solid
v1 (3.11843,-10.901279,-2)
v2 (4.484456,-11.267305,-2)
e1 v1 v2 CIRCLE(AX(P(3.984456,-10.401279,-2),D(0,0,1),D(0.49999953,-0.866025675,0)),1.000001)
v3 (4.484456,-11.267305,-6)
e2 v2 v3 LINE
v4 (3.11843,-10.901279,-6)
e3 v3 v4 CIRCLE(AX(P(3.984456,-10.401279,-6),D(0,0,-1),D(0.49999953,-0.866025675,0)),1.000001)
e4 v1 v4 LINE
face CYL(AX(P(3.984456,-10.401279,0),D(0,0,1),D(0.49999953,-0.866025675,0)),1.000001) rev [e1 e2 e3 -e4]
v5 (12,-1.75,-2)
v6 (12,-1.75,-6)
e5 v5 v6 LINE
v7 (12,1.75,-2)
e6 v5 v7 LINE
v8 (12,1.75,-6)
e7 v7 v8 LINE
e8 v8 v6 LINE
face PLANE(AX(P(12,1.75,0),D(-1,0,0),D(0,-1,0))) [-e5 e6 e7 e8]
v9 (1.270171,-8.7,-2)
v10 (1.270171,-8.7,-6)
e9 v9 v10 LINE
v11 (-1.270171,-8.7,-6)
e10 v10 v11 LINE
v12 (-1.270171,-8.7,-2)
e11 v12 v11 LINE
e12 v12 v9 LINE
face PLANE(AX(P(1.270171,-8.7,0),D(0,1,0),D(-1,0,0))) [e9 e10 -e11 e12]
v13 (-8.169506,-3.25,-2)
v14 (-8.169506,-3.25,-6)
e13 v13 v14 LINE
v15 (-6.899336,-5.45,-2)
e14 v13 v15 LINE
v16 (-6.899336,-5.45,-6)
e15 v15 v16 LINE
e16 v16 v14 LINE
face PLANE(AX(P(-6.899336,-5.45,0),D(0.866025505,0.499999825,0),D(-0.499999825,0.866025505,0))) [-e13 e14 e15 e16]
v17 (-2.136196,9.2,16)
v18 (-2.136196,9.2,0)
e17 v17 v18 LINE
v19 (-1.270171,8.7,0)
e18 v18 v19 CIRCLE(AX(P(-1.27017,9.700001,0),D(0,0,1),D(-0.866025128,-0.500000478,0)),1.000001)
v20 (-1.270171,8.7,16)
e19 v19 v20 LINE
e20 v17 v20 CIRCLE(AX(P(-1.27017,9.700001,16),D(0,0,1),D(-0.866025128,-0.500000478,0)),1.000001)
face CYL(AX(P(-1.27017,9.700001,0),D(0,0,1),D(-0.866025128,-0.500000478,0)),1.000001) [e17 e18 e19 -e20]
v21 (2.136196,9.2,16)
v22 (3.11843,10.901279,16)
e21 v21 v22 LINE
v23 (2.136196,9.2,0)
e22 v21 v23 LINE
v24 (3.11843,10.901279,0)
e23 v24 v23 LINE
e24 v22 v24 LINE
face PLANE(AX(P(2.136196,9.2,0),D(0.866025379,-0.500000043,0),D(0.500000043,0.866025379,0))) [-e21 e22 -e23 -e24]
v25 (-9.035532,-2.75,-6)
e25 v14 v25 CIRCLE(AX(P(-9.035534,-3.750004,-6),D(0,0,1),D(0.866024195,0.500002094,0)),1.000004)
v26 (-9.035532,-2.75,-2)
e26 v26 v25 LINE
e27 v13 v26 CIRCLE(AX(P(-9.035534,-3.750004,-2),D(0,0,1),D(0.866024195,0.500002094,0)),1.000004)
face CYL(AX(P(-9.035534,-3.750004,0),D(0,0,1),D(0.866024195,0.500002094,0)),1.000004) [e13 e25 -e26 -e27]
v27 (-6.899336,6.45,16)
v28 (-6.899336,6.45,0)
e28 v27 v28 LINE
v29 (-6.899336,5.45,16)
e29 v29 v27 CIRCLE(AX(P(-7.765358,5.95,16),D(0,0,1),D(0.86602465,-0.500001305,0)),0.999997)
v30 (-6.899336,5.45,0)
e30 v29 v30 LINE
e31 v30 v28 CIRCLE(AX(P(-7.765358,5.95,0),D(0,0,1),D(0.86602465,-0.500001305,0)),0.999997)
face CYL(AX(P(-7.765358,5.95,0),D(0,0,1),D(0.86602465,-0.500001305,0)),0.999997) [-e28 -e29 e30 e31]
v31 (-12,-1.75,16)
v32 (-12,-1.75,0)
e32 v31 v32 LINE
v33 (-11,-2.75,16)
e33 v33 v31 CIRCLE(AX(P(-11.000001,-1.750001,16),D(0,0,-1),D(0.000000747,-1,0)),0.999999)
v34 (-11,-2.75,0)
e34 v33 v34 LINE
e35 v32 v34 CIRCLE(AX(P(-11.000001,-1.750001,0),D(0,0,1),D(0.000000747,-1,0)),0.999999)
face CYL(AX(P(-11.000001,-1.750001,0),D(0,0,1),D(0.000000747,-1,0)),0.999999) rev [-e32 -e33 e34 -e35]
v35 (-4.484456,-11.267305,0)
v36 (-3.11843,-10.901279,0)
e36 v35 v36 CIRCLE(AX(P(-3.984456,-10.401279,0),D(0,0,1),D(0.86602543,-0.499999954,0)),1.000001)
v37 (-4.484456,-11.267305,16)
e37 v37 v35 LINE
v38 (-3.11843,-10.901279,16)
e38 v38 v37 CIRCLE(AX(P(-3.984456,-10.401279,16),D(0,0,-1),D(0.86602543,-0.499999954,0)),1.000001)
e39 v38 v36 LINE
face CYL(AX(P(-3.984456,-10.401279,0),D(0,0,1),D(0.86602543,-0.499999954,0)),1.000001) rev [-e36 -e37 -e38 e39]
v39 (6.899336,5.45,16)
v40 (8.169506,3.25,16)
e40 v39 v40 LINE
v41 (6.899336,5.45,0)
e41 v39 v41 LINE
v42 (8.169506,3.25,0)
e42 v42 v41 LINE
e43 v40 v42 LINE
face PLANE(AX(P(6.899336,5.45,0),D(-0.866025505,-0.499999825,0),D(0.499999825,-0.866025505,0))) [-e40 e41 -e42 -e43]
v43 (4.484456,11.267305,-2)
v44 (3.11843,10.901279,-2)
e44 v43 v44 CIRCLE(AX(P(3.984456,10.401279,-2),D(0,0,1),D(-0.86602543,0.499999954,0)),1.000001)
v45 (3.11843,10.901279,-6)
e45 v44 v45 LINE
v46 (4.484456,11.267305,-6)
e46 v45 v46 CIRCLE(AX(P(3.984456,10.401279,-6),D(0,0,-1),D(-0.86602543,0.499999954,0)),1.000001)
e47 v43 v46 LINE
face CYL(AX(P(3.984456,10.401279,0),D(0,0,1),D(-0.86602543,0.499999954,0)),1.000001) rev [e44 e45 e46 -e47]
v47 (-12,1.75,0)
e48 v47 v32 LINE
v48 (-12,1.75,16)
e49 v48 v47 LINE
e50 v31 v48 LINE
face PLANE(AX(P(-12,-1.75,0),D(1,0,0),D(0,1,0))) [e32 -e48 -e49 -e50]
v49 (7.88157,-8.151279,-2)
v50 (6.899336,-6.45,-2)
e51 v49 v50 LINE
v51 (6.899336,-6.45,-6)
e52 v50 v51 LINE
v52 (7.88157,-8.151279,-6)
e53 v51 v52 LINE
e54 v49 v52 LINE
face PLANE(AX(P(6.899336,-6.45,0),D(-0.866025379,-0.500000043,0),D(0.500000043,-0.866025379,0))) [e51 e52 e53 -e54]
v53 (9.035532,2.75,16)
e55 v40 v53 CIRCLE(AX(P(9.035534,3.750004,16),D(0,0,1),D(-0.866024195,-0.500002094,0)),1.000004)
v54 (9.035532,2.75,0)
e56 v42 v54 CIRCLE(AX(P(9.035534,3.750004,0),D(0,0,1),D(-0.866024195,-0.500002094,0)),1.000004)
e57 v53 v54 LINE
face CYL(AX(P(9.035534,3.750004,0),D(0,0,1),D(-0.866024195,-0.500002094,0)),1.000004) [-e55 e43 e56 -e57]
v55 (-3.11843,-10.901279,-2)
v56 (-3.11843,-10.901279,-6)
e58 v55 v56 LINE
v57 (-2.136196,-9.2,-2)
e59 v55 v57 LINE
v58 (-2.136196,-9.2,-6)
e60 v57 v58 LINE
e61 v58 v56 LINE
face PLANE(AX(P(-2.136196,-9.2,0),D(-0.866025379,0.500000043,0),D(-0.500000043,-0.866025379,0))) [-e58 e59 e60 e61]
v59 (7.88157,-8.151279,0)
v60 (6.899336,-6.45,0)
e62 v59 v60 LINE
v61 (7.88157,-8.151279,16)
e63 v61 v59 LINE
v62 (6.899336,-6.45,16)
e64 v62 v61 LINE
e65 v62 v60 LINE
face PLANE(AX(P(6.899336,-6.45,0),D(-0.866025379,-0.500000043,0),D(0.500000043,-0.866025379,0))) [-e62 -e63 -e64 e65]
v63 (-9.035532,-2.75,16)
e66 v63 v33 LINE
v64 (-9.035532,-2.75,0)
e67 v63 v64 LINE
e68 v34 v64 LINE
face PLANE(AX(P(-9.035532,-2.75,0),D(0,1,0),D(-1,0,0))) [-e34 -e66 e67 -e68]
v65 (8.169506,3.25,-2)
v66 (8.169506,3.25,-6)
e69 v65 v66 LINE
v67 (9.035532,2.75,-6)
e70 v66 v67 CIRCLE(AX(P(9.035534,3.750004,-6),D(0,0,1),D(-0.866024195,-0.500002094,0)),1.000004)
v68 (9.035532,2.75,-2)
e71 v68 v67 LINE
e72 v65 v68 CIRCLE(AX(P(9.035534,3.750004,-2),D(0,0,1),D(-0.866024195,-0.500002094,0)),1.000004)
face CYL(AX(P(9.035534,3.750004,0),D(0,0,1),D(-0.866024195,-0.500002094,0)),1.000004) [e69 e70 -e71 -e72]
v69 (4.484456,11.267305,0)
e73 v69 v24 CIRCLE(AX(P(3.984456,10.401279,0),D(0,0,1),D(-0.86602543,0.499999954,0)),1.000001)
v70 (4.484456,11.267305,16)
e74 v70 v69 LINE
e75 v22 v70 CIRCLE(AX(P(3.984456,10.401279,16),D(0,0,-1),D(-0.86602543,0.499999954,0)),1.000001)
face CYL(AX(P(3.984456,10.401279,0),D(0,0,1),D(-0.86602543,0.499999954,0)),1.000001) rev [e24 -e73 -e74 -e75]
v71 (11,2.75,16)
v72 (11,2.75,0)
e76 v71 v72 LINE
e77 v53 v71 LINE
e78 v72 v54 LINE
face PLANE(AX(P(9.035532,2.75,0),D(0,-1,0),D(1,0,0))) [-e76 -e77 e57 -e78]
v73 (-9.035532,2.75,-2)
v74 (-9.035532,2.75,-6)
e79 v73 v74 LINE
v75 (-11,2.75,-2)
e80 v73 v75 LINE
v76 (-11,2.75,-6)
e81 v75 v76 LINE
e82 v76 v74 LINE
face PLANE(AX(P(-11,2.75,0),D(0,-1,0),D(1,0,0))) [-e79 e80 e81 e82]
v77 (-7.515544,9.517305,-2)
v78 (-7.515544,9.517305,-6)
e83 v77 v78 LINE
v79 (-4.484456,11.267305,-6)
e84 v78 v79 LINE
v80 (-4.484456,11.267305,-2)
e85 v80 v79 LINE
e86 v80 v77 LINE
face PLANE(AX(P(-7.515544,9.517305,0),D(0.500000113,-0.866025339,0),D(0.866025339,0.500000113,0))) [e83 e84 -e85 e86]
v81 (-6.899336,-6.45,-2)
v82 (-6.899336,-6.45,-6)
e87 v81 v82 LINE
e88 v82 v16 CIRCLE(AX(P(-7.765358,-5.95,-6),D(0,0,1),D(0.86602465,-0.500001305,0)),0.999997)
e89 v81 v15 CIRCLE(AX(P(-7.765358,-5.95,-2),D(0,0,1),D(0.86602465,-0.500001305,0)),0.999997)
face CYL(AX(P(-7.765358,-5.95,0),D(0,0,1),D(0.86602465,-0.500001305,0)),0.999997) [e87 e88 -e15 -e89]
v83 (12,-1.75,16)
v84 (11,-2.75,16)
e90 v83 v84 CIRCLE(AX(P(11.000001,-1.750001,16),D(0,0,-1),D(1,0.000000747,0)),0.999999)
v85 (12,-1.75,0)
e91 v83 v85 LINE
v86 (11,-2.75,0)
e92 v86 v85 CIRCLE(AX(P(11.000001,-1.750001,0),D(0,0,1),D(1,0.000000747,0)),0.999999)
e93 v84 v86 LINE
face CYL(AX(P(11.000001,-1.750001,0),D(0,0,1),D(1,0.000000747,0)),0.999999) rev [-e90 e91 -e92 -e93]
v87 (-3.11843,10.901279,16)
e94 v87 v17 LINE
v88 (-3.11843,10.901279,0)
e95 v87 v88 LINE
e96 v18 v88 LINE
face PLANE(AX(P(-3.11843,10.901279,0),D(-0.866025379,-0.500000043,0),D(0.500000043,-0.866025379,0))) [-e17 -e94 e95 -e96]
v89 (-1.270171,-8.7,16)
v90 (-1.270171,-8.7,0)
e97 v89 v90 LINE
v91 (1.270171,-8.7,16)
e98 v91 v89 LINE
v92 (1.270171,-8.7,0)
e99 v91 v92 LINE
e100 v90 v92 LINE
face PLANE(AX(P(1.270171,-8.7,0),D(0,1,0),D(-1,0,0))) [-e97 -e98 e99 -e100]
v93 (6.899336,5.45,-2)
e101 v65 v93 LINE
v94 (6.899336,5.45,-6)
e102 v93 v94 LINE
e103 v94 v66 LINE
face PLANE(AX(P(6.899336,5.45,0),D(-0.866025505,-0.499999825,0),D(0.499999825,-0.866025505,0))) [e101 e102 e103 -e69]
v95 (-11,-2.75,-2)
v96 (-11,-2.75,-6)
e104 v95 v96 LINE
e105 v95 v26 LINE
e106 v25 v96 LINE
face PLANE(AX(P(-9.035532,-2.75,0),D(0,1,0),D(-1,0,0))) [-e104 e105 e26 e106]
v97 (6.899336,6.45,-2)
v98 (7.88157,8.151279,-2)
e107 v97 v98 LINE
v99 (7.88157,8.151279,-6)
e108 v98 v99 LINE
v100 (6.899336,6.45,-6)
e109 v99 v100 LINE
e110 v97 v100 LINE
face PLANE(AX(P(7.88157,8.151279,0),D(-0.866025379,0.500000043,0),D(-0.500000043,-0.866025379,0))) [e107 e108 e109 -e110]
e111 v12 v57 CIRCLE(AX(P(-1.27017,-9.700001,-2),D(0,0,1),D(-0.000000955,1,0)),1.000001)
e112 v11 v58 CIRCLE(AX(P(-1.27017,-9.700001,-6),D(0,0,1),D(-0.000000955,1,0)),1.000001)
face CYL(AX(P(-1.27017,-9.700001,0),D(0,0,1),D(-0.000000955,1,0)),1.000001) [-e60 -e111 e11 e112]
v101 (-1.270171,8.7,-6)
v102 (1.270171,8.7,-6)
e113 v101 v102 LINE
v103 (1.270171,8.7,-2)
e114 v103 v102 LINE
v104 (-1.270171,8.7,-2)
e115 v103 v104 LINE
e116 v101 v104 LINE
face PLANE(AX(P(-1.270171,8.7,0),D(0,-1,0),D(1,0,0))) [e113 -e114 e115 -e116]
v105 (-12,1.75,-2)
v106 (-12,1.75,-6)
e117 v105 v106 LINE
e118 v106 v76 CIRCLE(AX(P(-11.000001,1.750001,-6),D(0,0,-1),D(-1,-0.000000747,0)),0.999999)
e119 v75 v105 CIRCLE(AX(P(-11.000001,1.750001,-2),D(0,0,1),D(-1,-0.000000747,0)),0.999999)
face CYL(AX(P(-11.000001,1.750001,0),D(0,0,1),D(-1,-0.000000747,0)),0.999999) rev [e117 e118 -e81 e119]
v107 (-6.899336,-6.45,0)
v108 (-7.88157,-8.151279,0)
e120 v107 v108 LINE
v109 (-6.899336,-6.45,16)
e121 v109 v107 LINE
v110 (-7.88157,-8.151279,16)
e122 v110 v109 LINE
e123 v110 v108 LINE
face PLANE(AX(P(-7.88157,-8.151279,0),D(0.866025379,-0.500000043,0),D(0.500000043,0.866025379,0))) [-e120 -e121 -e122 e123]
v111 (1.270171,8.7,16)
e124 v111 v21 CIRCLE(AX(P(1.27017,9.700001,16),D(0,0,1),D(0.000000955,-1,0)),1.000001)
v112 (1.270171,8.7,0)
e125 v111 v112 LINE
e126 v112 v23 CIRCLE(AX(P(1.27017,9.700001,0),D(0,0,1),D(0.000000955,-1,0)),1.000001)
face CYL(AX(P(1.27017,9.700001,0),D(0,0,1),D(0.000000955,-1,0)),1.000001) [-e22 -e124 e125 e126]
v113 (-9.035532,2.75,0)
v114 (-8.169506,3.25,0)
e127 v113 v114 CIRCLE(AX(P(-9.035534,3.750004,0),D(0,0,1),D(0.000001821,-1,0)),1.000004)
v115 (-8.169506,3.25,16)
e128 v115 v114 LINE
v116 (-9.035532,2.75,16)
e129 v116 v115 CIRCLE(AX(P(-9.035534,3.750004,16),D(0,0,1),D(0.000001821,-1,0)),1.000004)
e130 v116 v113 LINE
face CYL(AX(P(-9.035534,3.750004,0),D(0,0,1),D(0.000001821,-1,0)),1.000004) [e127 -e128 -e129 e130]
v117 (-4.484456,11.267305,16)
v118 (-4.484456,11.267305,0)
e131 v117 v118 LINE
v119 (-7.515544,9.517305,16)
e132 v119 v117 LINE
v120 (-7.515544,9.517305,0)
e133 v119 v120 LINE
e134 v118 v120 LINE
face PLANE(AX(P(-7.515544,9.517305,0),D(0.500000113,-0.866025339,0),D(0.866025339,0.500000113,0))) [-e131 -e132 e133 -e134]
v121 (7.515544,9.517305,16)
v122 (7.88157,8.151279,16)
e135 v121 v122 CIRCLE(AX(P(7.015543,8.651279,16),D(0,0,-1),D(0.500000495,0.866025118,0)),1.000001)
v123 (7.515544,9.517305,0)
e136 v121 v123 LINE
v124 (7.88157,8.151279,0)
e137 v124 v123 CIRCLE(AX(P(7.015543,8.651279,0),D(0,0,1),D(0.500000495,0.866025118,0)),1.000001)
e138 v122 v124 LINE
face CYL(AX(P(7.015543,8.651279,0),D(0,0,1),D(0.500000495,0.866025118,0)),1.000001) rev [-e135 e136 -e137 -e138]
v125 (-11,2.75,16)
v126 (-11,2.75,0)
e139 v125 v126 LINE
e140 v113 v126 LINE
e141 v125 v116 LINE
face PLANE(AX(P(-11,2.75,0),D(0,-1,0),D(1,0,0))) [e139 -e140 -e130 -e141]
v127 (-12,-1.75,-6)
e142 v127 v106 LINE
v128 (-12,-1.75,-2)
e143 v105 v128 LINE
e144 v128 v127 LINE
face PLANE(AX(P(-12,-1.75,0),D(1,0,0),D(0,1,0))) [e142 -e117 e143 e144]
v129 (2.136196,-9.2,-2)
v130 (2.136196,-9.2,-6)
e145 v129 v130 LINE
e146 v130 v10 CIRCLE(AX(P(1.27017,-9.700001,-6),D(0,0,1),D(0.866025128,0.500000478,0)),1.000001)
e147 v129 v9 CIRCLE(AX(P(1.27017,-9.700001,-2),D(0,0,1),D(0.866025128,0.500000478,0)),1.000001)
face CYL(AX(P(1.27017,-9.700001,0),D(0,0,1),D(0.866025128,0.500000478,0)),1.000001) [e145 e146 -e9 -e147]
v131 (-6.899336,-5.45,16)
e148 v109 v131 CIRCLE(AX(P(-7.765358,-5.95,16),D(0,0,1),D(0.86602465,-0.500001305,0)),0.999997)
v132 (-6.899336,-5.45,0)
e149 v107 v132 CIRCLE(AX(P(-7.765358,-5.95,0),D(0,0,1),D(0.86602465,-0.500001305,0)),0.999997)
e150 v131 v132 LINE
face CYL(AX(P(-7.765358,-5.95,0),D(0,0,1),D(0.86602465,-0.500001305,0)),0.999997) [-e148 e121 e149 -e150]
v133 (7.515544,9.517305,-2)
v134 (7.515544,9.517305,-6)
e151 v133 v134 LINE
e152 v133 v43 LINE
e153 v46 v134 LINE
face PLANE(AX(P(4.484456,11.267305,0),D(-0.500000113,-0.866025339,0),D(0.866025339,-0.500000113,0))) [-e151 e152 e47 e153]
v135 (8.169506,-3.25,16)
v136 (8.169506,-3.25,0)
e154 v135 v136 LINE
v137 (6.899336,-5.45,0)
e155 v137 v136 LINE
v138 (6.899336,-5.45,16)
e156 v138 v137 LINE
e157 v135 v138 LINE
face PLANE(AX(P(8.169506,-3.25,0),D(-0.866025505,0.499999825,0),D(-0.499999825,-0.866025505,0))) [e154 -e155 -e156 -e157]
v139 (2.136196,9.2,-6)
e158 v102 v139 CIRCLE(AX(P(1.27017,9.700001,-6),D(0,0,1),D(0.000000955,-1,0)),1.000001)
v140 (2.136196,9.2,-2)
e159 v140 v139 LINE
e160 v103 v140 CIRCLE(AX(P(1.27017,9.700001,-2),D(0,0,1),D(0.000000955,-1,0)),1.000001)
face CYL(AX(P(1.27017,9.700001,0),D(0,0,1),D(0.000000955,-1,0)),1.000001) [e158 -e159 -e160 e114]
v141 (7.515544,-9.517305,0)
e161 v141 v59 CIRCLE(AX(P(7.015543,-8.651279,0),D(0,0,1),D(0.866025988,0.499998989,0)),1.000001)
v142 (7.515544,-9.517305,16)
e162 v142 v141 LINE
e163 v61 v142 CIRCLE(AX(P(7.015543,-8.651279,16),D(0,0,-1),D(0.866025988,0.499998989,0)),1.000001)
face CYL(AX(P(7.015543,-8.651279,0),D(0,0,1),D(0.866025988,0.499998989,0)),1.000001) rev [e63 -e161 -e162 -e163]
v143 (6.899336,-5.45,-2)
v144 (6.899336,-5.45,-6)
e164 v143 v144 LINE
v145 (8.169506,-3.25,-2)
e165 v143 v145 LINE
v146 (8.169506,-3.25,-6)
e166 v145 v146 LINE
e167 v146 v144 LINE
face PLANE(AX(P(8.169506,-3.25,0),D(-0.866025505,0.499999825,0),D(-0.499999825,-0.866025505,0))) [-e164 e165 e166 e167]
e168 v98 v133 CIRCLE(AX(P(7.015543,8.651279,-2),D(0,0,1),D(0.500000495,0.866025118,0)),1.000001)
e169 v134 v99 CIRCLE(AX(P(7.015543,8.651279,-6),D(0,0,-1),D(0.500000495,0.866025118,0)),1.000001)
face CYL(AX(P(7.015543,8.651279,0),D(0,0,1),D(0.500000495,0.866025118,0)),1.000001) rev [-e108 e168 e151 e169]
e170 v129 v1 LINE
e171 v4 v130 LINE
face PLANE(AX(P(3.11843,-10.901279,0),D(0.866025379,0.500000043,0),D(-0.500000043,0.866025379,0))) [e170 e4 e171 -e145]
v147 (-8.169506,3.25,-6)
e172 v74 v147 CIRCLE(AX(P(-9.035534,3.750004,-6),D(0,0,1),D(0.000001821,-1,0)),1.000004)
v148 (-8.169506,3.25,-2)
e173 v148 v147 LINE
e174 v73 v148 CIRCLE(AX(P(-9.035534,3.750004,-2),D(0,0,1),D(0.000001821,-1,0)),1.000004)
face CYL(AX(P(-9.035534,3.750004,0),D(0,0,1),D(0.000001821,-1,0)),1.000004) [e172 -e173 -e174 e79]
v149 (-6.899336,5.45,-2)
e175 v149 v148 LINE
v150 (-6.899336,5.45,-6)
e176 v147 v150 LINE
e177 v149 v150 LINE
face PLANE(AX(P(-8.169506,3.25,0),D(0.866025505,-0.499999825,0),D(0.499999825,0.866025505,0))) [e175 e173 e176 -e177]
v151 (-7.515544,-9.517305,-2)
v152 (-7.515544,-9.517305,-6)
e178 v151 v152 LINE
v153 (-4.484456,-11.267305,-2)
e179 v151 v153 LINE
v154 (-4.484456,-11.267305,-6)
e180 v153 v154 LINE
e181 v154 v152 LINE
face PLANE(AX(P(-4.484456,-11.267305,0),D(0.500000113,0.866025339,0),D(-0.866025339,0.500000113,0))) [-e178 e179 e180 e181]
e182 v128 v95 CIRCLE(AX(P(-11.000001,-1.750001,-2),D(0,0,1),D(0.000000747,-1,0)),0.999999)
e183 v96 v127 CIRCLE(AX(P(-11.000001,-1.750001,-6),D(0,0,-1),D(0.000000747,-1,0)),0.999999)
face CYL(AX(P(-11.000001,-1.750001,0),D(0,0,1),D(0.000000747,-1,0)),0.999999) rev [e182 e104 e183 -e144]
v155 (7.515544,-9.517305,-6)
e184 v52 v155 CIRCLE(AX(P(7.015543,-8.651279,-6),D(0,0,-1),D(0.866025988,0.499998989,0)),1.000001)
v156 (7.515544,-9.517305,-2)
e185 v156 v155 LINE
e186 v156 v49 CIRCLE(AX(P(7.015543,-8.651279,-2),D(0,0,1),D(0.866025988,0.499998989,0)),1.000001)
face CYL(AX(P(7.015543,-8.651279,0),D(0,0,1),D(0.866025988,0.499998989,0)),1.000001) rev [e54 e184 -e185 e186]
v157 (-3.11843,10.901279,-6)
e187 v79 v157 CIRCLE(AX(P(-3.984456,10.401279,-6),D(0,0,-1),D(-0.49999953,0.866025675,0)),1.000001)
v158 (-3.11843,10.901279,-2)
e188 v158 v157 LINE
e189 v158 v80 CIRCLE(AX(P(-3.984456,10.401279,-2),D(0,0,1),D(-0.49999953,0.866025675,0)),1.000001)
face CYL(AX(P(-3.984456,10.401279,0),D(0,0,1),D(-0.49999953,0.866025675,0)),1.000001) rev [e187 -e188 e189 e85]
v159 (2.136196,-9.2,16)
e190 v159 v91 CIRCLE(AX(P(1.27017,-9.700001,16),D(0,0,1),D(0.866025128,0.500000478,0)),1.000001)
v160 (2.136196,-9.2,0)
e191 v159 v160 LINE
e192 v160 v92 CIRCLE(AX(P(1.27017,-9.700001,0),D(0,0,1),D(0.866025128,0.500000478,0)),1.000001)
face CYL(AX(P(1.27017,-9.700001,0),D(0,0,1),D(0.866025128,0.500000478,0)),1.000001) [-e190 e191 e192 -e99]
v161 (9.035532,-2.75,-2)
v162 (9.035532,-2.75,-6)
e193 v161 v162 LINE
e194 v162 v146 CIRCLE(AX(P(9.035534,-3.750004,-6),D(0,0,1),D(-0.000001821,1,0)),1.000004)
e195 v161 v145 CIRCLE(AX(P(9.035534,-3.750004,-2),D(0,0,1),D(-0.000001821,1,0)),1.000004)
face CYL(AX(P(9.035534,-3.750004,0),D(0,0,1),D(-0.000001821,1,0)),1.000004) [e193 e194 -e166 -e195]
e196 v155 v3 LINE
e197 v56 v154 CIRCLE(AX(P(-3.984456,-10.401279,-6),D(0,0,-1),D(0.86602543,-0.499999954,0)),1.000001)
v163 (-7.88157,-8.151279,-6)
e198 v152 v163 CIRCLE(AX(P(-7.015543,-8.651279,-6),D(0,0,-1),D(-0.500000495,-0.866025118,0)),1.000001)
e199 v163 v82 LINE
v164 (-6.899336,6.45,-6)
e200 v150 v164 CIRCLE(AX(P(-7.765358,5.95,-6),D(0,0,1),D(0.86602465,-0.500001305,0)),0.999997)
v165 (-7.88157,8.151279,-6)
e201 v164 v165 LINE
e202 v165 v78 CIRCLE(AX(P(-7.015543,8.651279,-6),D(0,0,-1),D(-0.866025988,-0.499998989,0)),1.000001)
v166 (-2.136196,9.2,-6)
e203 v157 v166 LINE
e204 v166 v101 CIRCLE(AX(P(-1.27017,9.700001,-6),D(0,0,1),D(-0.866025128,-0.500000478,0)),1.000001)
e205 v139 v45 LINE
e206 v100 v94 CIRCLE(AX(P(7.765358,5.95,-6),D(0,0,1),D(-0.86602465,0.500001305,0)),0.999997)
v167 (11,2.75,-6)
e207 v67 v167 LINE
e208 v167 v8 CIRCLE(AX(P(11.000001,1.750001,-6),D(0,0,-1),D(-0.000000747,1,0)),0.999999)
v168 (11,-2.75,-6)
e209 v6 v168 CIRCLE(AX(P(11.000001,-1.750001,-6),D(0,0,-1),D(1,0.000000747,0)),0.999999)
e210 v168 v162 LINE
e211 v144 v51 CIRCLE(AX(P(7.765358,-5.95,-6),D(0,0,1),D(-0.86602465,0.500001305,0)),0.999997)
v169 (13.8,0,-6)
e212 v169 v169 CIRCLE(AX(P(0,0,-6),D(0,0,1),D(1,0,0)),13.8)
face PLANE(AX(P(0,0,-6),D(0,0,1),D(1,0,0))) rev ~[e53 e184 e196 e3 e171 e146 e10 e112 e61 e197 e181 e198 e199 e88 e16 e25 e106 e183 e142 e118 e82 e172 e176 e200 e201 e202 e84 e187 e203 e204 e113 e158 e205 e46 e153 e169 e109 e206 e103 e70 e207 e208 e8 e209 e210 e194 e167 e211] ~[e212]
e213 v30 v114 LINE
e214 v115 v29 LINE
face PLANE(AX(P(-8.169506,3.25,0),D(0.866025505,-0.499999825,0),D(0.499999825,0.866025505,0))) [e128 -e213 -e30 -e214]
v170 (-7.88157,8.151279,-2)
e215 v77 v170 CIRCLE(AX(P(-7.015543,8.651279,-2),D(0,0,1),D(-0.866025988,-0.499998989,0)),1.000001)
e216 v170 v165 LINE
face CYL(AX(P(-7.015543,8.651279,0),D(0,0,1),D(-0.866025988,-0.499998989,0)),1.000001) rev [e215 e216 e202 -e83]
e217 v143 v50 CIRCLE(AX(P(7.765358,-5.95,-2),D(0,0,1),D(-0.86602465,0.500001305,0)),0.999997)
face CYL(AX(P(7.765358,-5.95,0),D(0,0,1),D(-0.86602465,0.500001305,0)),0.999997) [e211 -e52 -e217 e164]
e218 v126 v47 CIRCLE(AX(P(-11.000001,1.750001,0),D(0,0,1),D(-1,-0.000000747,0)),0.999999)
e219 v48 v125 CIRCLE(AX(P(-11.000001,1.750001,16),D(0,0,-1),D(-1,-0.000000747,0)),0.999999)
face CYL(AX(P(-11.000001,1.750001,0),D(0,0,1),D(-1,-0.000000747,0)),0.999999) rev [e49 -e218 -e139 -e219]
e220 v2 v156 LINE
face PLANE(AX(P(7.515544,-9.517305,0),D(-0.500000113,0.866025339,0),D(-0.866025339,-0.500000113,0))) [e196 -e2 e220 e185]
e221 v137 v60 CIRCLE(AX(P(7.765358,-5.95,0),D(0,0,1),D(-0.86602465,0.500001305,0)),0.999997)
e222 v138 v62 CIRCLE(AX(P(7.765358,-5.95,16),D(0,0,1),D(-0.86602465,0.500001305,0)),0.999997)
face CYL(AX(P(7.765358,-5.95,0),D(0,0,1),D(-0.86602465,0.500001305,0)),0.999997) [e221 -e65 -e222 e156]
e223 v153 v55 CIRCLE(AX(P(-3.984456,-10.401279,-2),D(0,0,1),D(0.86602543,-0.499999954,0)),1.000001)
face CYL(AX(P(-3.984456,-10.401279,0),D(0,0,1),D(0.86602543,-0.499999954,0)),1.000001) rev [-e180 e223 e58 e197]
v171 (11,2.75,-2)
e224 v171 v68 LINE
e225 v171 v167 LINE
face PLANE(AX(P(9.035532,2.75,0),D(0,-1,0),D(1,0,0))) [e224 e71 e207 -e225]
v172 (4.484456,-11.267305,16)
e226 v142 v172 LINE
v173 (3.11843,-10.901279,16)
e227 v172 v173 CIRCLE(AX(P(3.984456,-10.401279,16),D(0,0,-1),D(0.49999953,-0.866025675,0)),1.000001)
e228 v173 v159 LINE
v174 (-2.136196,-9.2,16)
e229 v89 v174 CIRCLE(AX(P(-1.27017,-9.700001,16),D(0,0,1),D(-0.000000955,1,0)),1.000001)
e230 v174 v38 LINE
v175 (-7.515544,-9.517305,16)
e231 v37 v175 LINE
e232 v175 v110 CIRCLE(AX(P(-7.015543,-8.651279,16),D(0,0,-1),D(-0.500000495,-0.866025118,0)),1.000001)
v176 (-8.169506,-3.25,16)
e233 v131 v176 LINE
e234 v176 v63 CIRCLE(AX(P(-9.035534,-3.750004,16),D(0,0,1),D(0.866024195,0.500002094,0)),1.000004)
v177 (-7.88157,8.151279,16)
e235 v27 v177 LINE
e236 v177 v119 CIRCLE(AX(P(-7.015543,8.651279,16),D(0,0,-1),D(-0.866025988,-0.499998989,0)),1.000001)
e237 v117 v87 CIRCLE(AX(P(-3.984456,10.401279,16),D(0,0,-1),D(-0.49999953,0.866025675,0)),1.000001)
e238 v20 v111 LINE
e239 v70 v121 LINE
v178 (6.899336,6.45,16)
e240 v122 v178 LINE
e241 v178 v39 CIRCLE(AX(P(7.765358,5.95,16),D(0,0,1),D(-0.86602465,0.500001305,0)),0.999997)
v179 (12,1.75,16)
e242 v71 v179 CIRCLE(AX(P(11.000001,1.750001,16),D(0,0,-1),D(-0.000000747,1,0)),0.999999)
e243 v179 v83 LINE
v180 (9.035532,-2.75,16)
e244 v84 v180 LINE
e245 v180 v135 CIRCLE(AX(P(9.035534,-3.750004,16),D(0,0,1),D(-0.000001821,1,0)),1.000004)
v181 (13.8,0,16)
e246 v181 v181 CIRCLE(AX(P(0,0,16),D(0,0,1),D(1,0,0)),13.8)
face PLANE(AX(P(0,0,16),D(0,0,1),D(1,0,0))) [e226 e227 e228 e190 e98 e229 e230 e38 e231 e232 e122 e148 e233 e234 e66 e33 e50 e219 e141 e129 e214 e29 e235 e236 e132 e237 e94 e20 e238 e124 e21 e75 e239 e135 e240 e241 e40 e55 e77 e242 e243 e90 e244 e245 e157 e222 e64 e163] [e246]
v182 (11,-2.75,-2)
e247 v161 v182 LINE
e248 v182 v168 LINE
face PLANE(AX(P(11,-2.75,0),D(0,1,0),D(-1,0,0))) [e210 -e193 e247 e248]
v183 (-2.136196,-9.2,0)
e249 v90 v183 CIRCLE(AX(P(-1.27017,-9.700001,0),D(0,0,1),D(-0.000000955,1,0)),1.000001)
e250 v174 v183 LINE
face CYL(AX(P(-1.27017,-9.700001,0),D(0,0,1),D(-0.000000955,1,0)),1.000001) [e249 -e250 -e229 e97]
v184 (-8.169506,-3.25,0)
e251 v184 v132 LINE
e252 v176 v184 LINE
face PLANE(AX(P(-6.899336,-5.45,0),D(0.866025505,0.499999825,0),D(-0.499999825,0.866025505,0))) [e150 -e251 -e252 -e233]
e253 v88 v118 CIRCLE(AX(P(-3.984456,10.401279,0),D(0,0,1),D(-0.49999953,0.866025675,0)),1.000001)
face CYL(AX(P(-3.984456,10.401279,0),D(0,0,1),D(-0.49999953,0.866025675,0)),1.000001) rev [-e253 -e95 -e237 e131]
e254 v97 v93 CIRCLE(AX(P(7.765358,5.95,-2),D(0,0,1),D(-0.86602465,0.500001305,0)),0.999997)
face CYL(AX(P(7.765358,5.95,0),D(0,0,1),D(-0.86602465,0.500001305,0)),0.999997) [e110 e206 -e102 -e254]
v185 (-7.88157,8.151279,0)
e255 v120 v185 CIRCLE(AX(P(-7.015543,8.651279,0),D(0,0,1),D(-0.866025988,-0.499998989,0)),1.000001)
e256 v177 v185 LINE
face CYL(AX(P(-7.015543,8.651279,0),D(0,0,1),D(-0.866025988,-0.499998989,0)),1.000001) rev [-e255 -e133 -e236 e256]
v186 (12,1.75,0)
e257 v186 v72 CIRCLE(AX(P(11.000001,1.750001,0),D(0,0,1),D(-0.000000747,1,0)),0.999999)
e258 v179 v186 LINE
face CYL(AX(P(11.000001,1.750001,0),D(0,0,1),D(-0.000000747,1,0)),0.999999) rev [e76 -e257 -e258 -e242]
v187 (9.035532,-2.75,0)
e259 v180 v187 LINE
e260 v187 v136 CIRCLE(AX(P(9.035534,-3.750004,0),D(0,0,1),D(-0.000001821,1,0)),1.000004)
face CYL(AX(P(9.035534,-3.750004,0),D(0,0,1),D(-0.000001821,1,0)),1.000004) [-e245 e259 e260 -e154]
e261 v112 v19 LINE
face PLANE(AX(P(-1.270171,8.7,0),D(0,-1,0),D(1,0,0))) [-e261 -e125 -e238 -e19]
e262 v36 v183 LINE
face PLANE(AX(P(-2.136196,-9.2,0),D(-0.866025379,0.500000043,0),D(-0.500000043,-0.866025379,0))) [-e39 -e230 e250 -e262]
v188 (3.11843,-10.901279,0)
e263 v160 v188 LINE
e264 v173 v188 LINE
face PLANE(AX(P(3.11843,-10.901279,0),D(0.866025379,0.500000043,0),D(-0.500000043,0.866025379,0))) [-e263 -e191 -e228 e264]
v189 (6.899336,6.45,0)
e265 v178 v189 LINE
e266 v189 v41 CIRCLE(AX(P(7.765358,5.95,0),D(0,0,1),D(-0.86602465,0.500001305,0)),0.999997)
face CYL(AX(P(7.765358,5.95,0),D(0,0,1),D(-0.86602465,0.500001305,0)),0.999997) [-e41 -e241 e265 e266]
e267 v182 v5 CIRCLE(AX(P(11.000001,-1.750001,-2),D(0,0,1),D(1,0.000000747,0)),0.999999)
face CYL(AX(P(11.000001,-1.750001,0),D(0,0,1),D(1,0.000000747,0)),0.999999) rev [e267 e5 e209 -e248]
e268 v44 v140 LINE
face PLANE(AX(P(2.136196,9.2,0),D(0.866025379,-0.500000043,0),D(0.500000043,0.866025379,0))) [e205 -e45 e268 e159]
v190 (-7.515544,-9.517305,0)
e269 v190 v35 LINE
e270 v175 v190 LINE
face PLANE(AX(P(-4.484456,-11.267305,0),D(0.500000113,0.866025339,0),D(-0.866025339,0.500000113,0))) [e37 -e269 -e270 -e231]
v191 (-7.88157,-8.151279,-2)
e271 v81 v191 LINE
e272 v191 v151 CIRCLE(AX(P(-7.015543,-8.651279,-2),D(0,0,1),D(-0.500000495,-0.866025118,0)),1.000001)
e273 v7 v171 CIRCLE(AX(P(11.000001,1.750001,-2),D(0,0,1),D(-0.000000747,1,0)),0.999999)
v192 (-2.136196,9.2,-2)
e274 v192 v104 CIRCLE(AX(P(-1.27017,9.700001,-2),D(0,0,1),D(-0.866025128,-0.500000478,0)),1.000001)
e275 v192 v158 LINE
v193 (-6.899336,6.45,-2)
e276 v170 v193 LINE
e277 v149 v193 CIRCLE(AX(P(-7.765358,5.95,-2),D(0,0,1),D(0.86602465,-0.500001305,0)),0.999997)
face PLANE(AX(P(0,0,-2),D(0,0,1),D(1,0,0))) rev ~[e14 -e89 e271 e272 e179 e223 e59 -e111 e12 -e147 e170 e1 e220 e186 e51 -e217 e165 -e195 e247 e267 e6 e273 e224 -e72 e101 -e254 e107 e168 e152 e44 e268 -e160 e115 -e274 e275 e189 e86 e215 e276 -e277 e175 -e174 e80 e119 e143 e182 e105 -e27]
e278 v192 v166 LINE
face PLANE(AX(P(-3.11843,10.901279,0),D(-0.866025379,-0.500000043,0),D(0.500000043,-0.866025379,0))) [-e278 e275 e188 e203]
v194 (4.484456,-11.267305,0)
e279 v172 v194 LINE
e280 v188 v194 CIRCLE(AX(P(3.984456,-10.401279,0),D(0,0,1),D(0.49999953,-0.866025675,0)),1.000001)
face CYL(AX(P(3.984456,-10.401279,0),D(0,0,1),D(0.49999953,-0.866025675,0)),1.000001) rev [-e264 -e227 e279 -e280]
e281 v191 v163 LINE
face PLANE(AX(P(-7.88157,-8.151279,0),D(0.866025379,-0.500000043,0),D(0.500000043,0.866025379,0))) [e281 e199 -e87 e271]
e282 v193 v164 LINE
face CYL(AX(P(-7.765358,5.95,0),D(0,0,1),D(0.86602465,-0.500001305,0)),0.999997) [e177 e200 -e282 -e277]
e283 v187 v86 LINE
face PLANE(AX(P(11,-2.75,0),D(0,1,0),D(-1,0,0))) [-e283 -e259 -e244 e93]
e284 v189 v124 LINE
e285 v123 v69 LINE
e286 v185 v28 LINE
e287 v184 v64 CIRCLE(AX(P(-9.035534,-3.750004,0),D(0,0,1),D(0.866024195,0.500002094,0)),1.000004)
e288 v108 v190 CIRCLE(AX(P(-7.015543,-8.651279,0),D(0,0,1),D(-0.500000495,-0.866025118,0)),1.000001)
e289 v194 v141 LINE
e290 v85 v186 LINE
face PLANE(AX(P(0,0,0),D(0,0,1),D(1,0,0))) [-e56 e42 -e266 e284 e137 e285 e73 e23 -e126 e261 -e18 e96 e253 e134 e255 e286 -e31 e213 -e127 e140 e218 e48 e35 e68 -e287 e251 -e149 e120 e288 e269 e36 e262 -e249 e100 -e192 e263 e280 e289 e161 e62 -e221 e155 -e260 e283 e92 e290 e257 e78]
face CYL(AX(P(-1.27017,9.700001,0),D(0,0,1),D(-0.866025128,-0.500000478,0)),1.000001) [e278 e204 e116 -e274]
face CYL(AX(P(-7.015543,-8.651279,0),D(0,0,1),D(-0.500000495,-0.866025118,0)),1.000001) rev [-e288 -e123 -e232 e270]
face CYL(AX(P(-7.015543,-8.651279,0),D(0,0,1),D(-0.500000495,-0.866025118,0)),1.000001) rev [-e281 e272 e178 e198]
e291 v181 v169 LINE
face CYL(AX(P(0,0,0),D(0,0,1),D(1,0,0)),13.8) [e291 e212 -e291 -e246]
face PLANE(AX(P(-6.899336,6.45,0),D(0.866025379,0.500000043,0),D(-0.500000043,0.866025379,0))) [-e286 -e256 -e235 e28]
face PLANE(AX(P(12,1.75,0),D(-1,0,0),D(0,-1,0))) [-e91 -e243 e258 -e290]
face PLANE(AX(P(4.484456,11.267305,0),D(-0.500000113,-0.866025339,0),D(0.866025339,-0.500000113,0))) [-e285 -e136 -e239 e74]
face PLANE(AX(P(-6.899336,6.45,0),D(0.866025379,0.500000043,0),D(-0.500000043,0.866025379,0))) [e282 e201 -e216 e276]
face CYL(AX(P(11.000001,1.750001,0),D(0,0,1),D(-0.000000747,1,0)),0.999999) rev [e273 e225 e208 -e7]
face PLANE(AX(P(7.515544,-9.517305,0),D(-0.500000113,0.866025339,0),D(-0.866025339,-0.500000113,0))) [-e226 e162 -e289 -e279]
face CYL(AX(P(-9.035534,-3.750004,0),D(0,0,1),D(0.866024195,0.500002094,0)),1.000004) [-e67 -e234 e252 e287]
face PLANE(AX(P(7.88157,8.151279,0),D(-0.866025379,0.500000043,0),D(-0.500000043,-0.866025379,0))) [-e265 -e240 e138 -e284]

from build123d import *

# Parameters (mm, degrees)
F0_R          = 13.8
F1_DEPTH      = 16
F1_DEPTH_BACK = 6
F2_R          = 13.8
F3_DEPTH      = 2


with BuildPart() as f1:
    # F0 (on Top) → F1 (new body, two sides)
    with BuildSketch(Plane.XY) as f1_sk:
        Circle(F0_R)
        with BuildLine():
            Line((-1.270171, 8.7), (0, 8.7))
            Line((0, 8.7), (1.270171, 8.7))
            ThreePointArc((1.270171, 8.7), (1.770171, 8.833975), (2.136196, 9.2))
            Line((2.136196, 9.2), (3.11843, 10.901279))
            ThreePointArc((3.11843, 10.901279), (3.725636, 11.367205), (4.484456, 11.267305))
            Line((4.484456, 11.267305), (6, 10.392305))
            Line((6, 10.392305), (7.515544, 9.517305))
            ThreePointArc((7.515544, 9.517305), (7.98147, 8.910098), (7.88157, 8.151279))
            Line((7.88157, 8.151279), (6.899336, 6.45))
            ThreePointArc((6.899336, 6.45), (6.765361, 5.95), (6.899336, 5.45))
            Line((6.899336, 5.45), (7.534421, 4.35))
            Line((7.534421, 4.35), (8.169506, 3.25))
            ThreePointArc((8.169506, 3.25), (8.535532, 2.883975), (9.035532, 2.75))
            Line((9.035532, 2.75), (11, 2.75))
            ThreePointArc((11, 2.75), (11.707107, 2.457107), (12, 1.75))
            Line((12, 1.75), (12, 0))
            Line((12, 0), (12, -1.75))
            ThreePointArc((12, -1.75), (11.707107, -2.457107), (11, -2.75))
            Line((11, -2.75), (9.035532, -2.75))
            ThreePointArc((9.035532, -2.75), (8.535532, -2.883975), (8.169506, -3.25))
            Line((8.169506, -3.25), (7.534421, -4.35))
            Line((7.534421, -4.35), (6.899336, -5.45))
            ThreePointArc((6.899336, -5.45), (6.765361, -5.95), (6.899336, -6.45))
            Line((6.899336, -6.45), (7.88157, -8.151279))
            ThreePointArc((7.88157, -8.151279), (7.98147, -8.910098), (7.515544, -9.517305))
            Line((7.515544, -9.517305), (6, -10.392305))
            Line((6, -10.392305), (4.484456, -11.267305))
            ThreePointArc((4.484456, -11.267305), (3.725636, -11.367205), (3.11843, -10.901279))
            Line((3.11843, -10.901279), (2.136196, -9.2))
            ThreePointArc((2.136196, -9.2), (1.770171, -8.833975), (1.270171, -8.7))
            Line((1.270171, -8.7), (0, -8.7))
            Line((0, -8.7), (-1.270171, -8.7))
            ThreePointArc((-1.270171, -8.7), (-1.770171, -8.833975), (-2.136196, -9.2))
            Line((-2.136196, -9.2), (-3.11843, -10.901279))
            ThreePointArc((-3.11843, -10.901279), (-3.725636, -11.367205), (-4.484456, -11.267305))
            Line((-4.484456, -11.267305), (-6, -10.392305))
            Line((-6, -10.392305), (-7.515544, -9.517305))
            ThreePointArc((-7.515544, -9.517305), (-7.98147, -8.910098), (-7.88157, -8.151279))
            Line((-7.88157, -8.151279), (-6.899336, -6.45))
            ThreePointArc((-6.899336, -6.45), (-6.765361, -5.95), (-6.899336, -5.45))
            Line((-6.899336, -5.45), (-7.534421, -4.35))
            Line((-7.534421, -4.35), (-8.169506, -3.25))
            ThreePointArc((-8.169506, -3.25), (-8.535532, -2.883975), (-9.035532, -2.75))
            Line((-9.035532, -2.75), (-11, -2.75))
            ThreePointArc((-11, -2.75), (-11.707107, -2.457107), (-12, -1.75))
            Line((-12, -1.75), (-12, 0))
            Line((-12, 0), (-12, 1.75))
            ThreePointArc((-12, 1.75), (-11.707107, 2.457107), (-11, 2.75))
            Line((-11, 2.75), (-9.035532, 2.75))
            ThreePointArc((-9.035532, 2.75), (-8.535532, 2.883975), (-8.169506, 3.25))
            Line((-8.169506, 3.25), (-7.534421, 4.35))
            Line((-7.534421, 4.35), (-6.899336, 5.45))
            ThreePointArc((-6.899336, 5.45), (-6.765361, 5.95), (-6.899336, 6.45))
            Line((-6.899336, 6.45), (-7.88157, 8.151279))
            ThreePointArc((-7.88157, 8.151279), (-7.98147, 8.910098), (-7.515544, 9.517305))
            Line((-7.515544, 9.517305), (-6, 10.392305))
            Line((-6, 10.392305), (-4.484456, 11.267305))
            ThreePointArc((-4.484456, 11.267305), (-3.725636, 11.367205), (-3.11843, 10.901279))
            Line((-3.11843, 10.901279), (-2.136196, 9.2))
            ThreePointArc((-2.136196, 9.2), (-1.770171, 8.833975), (-1.270171, 8.7))
        make_face(mode=Mode.SUBTRACT)
    extrude(amount=F1_DEPTH)
    extrude(f1_sk.sketch, amount=-F1_DEPTH_BACK)

    # F2 (on Top) → F3 (join)
    with BuildSketch(Plane.XY):
        Circle(F2_R)
    extrude(amount=-F3_DEPTH)


solid = f1.part
